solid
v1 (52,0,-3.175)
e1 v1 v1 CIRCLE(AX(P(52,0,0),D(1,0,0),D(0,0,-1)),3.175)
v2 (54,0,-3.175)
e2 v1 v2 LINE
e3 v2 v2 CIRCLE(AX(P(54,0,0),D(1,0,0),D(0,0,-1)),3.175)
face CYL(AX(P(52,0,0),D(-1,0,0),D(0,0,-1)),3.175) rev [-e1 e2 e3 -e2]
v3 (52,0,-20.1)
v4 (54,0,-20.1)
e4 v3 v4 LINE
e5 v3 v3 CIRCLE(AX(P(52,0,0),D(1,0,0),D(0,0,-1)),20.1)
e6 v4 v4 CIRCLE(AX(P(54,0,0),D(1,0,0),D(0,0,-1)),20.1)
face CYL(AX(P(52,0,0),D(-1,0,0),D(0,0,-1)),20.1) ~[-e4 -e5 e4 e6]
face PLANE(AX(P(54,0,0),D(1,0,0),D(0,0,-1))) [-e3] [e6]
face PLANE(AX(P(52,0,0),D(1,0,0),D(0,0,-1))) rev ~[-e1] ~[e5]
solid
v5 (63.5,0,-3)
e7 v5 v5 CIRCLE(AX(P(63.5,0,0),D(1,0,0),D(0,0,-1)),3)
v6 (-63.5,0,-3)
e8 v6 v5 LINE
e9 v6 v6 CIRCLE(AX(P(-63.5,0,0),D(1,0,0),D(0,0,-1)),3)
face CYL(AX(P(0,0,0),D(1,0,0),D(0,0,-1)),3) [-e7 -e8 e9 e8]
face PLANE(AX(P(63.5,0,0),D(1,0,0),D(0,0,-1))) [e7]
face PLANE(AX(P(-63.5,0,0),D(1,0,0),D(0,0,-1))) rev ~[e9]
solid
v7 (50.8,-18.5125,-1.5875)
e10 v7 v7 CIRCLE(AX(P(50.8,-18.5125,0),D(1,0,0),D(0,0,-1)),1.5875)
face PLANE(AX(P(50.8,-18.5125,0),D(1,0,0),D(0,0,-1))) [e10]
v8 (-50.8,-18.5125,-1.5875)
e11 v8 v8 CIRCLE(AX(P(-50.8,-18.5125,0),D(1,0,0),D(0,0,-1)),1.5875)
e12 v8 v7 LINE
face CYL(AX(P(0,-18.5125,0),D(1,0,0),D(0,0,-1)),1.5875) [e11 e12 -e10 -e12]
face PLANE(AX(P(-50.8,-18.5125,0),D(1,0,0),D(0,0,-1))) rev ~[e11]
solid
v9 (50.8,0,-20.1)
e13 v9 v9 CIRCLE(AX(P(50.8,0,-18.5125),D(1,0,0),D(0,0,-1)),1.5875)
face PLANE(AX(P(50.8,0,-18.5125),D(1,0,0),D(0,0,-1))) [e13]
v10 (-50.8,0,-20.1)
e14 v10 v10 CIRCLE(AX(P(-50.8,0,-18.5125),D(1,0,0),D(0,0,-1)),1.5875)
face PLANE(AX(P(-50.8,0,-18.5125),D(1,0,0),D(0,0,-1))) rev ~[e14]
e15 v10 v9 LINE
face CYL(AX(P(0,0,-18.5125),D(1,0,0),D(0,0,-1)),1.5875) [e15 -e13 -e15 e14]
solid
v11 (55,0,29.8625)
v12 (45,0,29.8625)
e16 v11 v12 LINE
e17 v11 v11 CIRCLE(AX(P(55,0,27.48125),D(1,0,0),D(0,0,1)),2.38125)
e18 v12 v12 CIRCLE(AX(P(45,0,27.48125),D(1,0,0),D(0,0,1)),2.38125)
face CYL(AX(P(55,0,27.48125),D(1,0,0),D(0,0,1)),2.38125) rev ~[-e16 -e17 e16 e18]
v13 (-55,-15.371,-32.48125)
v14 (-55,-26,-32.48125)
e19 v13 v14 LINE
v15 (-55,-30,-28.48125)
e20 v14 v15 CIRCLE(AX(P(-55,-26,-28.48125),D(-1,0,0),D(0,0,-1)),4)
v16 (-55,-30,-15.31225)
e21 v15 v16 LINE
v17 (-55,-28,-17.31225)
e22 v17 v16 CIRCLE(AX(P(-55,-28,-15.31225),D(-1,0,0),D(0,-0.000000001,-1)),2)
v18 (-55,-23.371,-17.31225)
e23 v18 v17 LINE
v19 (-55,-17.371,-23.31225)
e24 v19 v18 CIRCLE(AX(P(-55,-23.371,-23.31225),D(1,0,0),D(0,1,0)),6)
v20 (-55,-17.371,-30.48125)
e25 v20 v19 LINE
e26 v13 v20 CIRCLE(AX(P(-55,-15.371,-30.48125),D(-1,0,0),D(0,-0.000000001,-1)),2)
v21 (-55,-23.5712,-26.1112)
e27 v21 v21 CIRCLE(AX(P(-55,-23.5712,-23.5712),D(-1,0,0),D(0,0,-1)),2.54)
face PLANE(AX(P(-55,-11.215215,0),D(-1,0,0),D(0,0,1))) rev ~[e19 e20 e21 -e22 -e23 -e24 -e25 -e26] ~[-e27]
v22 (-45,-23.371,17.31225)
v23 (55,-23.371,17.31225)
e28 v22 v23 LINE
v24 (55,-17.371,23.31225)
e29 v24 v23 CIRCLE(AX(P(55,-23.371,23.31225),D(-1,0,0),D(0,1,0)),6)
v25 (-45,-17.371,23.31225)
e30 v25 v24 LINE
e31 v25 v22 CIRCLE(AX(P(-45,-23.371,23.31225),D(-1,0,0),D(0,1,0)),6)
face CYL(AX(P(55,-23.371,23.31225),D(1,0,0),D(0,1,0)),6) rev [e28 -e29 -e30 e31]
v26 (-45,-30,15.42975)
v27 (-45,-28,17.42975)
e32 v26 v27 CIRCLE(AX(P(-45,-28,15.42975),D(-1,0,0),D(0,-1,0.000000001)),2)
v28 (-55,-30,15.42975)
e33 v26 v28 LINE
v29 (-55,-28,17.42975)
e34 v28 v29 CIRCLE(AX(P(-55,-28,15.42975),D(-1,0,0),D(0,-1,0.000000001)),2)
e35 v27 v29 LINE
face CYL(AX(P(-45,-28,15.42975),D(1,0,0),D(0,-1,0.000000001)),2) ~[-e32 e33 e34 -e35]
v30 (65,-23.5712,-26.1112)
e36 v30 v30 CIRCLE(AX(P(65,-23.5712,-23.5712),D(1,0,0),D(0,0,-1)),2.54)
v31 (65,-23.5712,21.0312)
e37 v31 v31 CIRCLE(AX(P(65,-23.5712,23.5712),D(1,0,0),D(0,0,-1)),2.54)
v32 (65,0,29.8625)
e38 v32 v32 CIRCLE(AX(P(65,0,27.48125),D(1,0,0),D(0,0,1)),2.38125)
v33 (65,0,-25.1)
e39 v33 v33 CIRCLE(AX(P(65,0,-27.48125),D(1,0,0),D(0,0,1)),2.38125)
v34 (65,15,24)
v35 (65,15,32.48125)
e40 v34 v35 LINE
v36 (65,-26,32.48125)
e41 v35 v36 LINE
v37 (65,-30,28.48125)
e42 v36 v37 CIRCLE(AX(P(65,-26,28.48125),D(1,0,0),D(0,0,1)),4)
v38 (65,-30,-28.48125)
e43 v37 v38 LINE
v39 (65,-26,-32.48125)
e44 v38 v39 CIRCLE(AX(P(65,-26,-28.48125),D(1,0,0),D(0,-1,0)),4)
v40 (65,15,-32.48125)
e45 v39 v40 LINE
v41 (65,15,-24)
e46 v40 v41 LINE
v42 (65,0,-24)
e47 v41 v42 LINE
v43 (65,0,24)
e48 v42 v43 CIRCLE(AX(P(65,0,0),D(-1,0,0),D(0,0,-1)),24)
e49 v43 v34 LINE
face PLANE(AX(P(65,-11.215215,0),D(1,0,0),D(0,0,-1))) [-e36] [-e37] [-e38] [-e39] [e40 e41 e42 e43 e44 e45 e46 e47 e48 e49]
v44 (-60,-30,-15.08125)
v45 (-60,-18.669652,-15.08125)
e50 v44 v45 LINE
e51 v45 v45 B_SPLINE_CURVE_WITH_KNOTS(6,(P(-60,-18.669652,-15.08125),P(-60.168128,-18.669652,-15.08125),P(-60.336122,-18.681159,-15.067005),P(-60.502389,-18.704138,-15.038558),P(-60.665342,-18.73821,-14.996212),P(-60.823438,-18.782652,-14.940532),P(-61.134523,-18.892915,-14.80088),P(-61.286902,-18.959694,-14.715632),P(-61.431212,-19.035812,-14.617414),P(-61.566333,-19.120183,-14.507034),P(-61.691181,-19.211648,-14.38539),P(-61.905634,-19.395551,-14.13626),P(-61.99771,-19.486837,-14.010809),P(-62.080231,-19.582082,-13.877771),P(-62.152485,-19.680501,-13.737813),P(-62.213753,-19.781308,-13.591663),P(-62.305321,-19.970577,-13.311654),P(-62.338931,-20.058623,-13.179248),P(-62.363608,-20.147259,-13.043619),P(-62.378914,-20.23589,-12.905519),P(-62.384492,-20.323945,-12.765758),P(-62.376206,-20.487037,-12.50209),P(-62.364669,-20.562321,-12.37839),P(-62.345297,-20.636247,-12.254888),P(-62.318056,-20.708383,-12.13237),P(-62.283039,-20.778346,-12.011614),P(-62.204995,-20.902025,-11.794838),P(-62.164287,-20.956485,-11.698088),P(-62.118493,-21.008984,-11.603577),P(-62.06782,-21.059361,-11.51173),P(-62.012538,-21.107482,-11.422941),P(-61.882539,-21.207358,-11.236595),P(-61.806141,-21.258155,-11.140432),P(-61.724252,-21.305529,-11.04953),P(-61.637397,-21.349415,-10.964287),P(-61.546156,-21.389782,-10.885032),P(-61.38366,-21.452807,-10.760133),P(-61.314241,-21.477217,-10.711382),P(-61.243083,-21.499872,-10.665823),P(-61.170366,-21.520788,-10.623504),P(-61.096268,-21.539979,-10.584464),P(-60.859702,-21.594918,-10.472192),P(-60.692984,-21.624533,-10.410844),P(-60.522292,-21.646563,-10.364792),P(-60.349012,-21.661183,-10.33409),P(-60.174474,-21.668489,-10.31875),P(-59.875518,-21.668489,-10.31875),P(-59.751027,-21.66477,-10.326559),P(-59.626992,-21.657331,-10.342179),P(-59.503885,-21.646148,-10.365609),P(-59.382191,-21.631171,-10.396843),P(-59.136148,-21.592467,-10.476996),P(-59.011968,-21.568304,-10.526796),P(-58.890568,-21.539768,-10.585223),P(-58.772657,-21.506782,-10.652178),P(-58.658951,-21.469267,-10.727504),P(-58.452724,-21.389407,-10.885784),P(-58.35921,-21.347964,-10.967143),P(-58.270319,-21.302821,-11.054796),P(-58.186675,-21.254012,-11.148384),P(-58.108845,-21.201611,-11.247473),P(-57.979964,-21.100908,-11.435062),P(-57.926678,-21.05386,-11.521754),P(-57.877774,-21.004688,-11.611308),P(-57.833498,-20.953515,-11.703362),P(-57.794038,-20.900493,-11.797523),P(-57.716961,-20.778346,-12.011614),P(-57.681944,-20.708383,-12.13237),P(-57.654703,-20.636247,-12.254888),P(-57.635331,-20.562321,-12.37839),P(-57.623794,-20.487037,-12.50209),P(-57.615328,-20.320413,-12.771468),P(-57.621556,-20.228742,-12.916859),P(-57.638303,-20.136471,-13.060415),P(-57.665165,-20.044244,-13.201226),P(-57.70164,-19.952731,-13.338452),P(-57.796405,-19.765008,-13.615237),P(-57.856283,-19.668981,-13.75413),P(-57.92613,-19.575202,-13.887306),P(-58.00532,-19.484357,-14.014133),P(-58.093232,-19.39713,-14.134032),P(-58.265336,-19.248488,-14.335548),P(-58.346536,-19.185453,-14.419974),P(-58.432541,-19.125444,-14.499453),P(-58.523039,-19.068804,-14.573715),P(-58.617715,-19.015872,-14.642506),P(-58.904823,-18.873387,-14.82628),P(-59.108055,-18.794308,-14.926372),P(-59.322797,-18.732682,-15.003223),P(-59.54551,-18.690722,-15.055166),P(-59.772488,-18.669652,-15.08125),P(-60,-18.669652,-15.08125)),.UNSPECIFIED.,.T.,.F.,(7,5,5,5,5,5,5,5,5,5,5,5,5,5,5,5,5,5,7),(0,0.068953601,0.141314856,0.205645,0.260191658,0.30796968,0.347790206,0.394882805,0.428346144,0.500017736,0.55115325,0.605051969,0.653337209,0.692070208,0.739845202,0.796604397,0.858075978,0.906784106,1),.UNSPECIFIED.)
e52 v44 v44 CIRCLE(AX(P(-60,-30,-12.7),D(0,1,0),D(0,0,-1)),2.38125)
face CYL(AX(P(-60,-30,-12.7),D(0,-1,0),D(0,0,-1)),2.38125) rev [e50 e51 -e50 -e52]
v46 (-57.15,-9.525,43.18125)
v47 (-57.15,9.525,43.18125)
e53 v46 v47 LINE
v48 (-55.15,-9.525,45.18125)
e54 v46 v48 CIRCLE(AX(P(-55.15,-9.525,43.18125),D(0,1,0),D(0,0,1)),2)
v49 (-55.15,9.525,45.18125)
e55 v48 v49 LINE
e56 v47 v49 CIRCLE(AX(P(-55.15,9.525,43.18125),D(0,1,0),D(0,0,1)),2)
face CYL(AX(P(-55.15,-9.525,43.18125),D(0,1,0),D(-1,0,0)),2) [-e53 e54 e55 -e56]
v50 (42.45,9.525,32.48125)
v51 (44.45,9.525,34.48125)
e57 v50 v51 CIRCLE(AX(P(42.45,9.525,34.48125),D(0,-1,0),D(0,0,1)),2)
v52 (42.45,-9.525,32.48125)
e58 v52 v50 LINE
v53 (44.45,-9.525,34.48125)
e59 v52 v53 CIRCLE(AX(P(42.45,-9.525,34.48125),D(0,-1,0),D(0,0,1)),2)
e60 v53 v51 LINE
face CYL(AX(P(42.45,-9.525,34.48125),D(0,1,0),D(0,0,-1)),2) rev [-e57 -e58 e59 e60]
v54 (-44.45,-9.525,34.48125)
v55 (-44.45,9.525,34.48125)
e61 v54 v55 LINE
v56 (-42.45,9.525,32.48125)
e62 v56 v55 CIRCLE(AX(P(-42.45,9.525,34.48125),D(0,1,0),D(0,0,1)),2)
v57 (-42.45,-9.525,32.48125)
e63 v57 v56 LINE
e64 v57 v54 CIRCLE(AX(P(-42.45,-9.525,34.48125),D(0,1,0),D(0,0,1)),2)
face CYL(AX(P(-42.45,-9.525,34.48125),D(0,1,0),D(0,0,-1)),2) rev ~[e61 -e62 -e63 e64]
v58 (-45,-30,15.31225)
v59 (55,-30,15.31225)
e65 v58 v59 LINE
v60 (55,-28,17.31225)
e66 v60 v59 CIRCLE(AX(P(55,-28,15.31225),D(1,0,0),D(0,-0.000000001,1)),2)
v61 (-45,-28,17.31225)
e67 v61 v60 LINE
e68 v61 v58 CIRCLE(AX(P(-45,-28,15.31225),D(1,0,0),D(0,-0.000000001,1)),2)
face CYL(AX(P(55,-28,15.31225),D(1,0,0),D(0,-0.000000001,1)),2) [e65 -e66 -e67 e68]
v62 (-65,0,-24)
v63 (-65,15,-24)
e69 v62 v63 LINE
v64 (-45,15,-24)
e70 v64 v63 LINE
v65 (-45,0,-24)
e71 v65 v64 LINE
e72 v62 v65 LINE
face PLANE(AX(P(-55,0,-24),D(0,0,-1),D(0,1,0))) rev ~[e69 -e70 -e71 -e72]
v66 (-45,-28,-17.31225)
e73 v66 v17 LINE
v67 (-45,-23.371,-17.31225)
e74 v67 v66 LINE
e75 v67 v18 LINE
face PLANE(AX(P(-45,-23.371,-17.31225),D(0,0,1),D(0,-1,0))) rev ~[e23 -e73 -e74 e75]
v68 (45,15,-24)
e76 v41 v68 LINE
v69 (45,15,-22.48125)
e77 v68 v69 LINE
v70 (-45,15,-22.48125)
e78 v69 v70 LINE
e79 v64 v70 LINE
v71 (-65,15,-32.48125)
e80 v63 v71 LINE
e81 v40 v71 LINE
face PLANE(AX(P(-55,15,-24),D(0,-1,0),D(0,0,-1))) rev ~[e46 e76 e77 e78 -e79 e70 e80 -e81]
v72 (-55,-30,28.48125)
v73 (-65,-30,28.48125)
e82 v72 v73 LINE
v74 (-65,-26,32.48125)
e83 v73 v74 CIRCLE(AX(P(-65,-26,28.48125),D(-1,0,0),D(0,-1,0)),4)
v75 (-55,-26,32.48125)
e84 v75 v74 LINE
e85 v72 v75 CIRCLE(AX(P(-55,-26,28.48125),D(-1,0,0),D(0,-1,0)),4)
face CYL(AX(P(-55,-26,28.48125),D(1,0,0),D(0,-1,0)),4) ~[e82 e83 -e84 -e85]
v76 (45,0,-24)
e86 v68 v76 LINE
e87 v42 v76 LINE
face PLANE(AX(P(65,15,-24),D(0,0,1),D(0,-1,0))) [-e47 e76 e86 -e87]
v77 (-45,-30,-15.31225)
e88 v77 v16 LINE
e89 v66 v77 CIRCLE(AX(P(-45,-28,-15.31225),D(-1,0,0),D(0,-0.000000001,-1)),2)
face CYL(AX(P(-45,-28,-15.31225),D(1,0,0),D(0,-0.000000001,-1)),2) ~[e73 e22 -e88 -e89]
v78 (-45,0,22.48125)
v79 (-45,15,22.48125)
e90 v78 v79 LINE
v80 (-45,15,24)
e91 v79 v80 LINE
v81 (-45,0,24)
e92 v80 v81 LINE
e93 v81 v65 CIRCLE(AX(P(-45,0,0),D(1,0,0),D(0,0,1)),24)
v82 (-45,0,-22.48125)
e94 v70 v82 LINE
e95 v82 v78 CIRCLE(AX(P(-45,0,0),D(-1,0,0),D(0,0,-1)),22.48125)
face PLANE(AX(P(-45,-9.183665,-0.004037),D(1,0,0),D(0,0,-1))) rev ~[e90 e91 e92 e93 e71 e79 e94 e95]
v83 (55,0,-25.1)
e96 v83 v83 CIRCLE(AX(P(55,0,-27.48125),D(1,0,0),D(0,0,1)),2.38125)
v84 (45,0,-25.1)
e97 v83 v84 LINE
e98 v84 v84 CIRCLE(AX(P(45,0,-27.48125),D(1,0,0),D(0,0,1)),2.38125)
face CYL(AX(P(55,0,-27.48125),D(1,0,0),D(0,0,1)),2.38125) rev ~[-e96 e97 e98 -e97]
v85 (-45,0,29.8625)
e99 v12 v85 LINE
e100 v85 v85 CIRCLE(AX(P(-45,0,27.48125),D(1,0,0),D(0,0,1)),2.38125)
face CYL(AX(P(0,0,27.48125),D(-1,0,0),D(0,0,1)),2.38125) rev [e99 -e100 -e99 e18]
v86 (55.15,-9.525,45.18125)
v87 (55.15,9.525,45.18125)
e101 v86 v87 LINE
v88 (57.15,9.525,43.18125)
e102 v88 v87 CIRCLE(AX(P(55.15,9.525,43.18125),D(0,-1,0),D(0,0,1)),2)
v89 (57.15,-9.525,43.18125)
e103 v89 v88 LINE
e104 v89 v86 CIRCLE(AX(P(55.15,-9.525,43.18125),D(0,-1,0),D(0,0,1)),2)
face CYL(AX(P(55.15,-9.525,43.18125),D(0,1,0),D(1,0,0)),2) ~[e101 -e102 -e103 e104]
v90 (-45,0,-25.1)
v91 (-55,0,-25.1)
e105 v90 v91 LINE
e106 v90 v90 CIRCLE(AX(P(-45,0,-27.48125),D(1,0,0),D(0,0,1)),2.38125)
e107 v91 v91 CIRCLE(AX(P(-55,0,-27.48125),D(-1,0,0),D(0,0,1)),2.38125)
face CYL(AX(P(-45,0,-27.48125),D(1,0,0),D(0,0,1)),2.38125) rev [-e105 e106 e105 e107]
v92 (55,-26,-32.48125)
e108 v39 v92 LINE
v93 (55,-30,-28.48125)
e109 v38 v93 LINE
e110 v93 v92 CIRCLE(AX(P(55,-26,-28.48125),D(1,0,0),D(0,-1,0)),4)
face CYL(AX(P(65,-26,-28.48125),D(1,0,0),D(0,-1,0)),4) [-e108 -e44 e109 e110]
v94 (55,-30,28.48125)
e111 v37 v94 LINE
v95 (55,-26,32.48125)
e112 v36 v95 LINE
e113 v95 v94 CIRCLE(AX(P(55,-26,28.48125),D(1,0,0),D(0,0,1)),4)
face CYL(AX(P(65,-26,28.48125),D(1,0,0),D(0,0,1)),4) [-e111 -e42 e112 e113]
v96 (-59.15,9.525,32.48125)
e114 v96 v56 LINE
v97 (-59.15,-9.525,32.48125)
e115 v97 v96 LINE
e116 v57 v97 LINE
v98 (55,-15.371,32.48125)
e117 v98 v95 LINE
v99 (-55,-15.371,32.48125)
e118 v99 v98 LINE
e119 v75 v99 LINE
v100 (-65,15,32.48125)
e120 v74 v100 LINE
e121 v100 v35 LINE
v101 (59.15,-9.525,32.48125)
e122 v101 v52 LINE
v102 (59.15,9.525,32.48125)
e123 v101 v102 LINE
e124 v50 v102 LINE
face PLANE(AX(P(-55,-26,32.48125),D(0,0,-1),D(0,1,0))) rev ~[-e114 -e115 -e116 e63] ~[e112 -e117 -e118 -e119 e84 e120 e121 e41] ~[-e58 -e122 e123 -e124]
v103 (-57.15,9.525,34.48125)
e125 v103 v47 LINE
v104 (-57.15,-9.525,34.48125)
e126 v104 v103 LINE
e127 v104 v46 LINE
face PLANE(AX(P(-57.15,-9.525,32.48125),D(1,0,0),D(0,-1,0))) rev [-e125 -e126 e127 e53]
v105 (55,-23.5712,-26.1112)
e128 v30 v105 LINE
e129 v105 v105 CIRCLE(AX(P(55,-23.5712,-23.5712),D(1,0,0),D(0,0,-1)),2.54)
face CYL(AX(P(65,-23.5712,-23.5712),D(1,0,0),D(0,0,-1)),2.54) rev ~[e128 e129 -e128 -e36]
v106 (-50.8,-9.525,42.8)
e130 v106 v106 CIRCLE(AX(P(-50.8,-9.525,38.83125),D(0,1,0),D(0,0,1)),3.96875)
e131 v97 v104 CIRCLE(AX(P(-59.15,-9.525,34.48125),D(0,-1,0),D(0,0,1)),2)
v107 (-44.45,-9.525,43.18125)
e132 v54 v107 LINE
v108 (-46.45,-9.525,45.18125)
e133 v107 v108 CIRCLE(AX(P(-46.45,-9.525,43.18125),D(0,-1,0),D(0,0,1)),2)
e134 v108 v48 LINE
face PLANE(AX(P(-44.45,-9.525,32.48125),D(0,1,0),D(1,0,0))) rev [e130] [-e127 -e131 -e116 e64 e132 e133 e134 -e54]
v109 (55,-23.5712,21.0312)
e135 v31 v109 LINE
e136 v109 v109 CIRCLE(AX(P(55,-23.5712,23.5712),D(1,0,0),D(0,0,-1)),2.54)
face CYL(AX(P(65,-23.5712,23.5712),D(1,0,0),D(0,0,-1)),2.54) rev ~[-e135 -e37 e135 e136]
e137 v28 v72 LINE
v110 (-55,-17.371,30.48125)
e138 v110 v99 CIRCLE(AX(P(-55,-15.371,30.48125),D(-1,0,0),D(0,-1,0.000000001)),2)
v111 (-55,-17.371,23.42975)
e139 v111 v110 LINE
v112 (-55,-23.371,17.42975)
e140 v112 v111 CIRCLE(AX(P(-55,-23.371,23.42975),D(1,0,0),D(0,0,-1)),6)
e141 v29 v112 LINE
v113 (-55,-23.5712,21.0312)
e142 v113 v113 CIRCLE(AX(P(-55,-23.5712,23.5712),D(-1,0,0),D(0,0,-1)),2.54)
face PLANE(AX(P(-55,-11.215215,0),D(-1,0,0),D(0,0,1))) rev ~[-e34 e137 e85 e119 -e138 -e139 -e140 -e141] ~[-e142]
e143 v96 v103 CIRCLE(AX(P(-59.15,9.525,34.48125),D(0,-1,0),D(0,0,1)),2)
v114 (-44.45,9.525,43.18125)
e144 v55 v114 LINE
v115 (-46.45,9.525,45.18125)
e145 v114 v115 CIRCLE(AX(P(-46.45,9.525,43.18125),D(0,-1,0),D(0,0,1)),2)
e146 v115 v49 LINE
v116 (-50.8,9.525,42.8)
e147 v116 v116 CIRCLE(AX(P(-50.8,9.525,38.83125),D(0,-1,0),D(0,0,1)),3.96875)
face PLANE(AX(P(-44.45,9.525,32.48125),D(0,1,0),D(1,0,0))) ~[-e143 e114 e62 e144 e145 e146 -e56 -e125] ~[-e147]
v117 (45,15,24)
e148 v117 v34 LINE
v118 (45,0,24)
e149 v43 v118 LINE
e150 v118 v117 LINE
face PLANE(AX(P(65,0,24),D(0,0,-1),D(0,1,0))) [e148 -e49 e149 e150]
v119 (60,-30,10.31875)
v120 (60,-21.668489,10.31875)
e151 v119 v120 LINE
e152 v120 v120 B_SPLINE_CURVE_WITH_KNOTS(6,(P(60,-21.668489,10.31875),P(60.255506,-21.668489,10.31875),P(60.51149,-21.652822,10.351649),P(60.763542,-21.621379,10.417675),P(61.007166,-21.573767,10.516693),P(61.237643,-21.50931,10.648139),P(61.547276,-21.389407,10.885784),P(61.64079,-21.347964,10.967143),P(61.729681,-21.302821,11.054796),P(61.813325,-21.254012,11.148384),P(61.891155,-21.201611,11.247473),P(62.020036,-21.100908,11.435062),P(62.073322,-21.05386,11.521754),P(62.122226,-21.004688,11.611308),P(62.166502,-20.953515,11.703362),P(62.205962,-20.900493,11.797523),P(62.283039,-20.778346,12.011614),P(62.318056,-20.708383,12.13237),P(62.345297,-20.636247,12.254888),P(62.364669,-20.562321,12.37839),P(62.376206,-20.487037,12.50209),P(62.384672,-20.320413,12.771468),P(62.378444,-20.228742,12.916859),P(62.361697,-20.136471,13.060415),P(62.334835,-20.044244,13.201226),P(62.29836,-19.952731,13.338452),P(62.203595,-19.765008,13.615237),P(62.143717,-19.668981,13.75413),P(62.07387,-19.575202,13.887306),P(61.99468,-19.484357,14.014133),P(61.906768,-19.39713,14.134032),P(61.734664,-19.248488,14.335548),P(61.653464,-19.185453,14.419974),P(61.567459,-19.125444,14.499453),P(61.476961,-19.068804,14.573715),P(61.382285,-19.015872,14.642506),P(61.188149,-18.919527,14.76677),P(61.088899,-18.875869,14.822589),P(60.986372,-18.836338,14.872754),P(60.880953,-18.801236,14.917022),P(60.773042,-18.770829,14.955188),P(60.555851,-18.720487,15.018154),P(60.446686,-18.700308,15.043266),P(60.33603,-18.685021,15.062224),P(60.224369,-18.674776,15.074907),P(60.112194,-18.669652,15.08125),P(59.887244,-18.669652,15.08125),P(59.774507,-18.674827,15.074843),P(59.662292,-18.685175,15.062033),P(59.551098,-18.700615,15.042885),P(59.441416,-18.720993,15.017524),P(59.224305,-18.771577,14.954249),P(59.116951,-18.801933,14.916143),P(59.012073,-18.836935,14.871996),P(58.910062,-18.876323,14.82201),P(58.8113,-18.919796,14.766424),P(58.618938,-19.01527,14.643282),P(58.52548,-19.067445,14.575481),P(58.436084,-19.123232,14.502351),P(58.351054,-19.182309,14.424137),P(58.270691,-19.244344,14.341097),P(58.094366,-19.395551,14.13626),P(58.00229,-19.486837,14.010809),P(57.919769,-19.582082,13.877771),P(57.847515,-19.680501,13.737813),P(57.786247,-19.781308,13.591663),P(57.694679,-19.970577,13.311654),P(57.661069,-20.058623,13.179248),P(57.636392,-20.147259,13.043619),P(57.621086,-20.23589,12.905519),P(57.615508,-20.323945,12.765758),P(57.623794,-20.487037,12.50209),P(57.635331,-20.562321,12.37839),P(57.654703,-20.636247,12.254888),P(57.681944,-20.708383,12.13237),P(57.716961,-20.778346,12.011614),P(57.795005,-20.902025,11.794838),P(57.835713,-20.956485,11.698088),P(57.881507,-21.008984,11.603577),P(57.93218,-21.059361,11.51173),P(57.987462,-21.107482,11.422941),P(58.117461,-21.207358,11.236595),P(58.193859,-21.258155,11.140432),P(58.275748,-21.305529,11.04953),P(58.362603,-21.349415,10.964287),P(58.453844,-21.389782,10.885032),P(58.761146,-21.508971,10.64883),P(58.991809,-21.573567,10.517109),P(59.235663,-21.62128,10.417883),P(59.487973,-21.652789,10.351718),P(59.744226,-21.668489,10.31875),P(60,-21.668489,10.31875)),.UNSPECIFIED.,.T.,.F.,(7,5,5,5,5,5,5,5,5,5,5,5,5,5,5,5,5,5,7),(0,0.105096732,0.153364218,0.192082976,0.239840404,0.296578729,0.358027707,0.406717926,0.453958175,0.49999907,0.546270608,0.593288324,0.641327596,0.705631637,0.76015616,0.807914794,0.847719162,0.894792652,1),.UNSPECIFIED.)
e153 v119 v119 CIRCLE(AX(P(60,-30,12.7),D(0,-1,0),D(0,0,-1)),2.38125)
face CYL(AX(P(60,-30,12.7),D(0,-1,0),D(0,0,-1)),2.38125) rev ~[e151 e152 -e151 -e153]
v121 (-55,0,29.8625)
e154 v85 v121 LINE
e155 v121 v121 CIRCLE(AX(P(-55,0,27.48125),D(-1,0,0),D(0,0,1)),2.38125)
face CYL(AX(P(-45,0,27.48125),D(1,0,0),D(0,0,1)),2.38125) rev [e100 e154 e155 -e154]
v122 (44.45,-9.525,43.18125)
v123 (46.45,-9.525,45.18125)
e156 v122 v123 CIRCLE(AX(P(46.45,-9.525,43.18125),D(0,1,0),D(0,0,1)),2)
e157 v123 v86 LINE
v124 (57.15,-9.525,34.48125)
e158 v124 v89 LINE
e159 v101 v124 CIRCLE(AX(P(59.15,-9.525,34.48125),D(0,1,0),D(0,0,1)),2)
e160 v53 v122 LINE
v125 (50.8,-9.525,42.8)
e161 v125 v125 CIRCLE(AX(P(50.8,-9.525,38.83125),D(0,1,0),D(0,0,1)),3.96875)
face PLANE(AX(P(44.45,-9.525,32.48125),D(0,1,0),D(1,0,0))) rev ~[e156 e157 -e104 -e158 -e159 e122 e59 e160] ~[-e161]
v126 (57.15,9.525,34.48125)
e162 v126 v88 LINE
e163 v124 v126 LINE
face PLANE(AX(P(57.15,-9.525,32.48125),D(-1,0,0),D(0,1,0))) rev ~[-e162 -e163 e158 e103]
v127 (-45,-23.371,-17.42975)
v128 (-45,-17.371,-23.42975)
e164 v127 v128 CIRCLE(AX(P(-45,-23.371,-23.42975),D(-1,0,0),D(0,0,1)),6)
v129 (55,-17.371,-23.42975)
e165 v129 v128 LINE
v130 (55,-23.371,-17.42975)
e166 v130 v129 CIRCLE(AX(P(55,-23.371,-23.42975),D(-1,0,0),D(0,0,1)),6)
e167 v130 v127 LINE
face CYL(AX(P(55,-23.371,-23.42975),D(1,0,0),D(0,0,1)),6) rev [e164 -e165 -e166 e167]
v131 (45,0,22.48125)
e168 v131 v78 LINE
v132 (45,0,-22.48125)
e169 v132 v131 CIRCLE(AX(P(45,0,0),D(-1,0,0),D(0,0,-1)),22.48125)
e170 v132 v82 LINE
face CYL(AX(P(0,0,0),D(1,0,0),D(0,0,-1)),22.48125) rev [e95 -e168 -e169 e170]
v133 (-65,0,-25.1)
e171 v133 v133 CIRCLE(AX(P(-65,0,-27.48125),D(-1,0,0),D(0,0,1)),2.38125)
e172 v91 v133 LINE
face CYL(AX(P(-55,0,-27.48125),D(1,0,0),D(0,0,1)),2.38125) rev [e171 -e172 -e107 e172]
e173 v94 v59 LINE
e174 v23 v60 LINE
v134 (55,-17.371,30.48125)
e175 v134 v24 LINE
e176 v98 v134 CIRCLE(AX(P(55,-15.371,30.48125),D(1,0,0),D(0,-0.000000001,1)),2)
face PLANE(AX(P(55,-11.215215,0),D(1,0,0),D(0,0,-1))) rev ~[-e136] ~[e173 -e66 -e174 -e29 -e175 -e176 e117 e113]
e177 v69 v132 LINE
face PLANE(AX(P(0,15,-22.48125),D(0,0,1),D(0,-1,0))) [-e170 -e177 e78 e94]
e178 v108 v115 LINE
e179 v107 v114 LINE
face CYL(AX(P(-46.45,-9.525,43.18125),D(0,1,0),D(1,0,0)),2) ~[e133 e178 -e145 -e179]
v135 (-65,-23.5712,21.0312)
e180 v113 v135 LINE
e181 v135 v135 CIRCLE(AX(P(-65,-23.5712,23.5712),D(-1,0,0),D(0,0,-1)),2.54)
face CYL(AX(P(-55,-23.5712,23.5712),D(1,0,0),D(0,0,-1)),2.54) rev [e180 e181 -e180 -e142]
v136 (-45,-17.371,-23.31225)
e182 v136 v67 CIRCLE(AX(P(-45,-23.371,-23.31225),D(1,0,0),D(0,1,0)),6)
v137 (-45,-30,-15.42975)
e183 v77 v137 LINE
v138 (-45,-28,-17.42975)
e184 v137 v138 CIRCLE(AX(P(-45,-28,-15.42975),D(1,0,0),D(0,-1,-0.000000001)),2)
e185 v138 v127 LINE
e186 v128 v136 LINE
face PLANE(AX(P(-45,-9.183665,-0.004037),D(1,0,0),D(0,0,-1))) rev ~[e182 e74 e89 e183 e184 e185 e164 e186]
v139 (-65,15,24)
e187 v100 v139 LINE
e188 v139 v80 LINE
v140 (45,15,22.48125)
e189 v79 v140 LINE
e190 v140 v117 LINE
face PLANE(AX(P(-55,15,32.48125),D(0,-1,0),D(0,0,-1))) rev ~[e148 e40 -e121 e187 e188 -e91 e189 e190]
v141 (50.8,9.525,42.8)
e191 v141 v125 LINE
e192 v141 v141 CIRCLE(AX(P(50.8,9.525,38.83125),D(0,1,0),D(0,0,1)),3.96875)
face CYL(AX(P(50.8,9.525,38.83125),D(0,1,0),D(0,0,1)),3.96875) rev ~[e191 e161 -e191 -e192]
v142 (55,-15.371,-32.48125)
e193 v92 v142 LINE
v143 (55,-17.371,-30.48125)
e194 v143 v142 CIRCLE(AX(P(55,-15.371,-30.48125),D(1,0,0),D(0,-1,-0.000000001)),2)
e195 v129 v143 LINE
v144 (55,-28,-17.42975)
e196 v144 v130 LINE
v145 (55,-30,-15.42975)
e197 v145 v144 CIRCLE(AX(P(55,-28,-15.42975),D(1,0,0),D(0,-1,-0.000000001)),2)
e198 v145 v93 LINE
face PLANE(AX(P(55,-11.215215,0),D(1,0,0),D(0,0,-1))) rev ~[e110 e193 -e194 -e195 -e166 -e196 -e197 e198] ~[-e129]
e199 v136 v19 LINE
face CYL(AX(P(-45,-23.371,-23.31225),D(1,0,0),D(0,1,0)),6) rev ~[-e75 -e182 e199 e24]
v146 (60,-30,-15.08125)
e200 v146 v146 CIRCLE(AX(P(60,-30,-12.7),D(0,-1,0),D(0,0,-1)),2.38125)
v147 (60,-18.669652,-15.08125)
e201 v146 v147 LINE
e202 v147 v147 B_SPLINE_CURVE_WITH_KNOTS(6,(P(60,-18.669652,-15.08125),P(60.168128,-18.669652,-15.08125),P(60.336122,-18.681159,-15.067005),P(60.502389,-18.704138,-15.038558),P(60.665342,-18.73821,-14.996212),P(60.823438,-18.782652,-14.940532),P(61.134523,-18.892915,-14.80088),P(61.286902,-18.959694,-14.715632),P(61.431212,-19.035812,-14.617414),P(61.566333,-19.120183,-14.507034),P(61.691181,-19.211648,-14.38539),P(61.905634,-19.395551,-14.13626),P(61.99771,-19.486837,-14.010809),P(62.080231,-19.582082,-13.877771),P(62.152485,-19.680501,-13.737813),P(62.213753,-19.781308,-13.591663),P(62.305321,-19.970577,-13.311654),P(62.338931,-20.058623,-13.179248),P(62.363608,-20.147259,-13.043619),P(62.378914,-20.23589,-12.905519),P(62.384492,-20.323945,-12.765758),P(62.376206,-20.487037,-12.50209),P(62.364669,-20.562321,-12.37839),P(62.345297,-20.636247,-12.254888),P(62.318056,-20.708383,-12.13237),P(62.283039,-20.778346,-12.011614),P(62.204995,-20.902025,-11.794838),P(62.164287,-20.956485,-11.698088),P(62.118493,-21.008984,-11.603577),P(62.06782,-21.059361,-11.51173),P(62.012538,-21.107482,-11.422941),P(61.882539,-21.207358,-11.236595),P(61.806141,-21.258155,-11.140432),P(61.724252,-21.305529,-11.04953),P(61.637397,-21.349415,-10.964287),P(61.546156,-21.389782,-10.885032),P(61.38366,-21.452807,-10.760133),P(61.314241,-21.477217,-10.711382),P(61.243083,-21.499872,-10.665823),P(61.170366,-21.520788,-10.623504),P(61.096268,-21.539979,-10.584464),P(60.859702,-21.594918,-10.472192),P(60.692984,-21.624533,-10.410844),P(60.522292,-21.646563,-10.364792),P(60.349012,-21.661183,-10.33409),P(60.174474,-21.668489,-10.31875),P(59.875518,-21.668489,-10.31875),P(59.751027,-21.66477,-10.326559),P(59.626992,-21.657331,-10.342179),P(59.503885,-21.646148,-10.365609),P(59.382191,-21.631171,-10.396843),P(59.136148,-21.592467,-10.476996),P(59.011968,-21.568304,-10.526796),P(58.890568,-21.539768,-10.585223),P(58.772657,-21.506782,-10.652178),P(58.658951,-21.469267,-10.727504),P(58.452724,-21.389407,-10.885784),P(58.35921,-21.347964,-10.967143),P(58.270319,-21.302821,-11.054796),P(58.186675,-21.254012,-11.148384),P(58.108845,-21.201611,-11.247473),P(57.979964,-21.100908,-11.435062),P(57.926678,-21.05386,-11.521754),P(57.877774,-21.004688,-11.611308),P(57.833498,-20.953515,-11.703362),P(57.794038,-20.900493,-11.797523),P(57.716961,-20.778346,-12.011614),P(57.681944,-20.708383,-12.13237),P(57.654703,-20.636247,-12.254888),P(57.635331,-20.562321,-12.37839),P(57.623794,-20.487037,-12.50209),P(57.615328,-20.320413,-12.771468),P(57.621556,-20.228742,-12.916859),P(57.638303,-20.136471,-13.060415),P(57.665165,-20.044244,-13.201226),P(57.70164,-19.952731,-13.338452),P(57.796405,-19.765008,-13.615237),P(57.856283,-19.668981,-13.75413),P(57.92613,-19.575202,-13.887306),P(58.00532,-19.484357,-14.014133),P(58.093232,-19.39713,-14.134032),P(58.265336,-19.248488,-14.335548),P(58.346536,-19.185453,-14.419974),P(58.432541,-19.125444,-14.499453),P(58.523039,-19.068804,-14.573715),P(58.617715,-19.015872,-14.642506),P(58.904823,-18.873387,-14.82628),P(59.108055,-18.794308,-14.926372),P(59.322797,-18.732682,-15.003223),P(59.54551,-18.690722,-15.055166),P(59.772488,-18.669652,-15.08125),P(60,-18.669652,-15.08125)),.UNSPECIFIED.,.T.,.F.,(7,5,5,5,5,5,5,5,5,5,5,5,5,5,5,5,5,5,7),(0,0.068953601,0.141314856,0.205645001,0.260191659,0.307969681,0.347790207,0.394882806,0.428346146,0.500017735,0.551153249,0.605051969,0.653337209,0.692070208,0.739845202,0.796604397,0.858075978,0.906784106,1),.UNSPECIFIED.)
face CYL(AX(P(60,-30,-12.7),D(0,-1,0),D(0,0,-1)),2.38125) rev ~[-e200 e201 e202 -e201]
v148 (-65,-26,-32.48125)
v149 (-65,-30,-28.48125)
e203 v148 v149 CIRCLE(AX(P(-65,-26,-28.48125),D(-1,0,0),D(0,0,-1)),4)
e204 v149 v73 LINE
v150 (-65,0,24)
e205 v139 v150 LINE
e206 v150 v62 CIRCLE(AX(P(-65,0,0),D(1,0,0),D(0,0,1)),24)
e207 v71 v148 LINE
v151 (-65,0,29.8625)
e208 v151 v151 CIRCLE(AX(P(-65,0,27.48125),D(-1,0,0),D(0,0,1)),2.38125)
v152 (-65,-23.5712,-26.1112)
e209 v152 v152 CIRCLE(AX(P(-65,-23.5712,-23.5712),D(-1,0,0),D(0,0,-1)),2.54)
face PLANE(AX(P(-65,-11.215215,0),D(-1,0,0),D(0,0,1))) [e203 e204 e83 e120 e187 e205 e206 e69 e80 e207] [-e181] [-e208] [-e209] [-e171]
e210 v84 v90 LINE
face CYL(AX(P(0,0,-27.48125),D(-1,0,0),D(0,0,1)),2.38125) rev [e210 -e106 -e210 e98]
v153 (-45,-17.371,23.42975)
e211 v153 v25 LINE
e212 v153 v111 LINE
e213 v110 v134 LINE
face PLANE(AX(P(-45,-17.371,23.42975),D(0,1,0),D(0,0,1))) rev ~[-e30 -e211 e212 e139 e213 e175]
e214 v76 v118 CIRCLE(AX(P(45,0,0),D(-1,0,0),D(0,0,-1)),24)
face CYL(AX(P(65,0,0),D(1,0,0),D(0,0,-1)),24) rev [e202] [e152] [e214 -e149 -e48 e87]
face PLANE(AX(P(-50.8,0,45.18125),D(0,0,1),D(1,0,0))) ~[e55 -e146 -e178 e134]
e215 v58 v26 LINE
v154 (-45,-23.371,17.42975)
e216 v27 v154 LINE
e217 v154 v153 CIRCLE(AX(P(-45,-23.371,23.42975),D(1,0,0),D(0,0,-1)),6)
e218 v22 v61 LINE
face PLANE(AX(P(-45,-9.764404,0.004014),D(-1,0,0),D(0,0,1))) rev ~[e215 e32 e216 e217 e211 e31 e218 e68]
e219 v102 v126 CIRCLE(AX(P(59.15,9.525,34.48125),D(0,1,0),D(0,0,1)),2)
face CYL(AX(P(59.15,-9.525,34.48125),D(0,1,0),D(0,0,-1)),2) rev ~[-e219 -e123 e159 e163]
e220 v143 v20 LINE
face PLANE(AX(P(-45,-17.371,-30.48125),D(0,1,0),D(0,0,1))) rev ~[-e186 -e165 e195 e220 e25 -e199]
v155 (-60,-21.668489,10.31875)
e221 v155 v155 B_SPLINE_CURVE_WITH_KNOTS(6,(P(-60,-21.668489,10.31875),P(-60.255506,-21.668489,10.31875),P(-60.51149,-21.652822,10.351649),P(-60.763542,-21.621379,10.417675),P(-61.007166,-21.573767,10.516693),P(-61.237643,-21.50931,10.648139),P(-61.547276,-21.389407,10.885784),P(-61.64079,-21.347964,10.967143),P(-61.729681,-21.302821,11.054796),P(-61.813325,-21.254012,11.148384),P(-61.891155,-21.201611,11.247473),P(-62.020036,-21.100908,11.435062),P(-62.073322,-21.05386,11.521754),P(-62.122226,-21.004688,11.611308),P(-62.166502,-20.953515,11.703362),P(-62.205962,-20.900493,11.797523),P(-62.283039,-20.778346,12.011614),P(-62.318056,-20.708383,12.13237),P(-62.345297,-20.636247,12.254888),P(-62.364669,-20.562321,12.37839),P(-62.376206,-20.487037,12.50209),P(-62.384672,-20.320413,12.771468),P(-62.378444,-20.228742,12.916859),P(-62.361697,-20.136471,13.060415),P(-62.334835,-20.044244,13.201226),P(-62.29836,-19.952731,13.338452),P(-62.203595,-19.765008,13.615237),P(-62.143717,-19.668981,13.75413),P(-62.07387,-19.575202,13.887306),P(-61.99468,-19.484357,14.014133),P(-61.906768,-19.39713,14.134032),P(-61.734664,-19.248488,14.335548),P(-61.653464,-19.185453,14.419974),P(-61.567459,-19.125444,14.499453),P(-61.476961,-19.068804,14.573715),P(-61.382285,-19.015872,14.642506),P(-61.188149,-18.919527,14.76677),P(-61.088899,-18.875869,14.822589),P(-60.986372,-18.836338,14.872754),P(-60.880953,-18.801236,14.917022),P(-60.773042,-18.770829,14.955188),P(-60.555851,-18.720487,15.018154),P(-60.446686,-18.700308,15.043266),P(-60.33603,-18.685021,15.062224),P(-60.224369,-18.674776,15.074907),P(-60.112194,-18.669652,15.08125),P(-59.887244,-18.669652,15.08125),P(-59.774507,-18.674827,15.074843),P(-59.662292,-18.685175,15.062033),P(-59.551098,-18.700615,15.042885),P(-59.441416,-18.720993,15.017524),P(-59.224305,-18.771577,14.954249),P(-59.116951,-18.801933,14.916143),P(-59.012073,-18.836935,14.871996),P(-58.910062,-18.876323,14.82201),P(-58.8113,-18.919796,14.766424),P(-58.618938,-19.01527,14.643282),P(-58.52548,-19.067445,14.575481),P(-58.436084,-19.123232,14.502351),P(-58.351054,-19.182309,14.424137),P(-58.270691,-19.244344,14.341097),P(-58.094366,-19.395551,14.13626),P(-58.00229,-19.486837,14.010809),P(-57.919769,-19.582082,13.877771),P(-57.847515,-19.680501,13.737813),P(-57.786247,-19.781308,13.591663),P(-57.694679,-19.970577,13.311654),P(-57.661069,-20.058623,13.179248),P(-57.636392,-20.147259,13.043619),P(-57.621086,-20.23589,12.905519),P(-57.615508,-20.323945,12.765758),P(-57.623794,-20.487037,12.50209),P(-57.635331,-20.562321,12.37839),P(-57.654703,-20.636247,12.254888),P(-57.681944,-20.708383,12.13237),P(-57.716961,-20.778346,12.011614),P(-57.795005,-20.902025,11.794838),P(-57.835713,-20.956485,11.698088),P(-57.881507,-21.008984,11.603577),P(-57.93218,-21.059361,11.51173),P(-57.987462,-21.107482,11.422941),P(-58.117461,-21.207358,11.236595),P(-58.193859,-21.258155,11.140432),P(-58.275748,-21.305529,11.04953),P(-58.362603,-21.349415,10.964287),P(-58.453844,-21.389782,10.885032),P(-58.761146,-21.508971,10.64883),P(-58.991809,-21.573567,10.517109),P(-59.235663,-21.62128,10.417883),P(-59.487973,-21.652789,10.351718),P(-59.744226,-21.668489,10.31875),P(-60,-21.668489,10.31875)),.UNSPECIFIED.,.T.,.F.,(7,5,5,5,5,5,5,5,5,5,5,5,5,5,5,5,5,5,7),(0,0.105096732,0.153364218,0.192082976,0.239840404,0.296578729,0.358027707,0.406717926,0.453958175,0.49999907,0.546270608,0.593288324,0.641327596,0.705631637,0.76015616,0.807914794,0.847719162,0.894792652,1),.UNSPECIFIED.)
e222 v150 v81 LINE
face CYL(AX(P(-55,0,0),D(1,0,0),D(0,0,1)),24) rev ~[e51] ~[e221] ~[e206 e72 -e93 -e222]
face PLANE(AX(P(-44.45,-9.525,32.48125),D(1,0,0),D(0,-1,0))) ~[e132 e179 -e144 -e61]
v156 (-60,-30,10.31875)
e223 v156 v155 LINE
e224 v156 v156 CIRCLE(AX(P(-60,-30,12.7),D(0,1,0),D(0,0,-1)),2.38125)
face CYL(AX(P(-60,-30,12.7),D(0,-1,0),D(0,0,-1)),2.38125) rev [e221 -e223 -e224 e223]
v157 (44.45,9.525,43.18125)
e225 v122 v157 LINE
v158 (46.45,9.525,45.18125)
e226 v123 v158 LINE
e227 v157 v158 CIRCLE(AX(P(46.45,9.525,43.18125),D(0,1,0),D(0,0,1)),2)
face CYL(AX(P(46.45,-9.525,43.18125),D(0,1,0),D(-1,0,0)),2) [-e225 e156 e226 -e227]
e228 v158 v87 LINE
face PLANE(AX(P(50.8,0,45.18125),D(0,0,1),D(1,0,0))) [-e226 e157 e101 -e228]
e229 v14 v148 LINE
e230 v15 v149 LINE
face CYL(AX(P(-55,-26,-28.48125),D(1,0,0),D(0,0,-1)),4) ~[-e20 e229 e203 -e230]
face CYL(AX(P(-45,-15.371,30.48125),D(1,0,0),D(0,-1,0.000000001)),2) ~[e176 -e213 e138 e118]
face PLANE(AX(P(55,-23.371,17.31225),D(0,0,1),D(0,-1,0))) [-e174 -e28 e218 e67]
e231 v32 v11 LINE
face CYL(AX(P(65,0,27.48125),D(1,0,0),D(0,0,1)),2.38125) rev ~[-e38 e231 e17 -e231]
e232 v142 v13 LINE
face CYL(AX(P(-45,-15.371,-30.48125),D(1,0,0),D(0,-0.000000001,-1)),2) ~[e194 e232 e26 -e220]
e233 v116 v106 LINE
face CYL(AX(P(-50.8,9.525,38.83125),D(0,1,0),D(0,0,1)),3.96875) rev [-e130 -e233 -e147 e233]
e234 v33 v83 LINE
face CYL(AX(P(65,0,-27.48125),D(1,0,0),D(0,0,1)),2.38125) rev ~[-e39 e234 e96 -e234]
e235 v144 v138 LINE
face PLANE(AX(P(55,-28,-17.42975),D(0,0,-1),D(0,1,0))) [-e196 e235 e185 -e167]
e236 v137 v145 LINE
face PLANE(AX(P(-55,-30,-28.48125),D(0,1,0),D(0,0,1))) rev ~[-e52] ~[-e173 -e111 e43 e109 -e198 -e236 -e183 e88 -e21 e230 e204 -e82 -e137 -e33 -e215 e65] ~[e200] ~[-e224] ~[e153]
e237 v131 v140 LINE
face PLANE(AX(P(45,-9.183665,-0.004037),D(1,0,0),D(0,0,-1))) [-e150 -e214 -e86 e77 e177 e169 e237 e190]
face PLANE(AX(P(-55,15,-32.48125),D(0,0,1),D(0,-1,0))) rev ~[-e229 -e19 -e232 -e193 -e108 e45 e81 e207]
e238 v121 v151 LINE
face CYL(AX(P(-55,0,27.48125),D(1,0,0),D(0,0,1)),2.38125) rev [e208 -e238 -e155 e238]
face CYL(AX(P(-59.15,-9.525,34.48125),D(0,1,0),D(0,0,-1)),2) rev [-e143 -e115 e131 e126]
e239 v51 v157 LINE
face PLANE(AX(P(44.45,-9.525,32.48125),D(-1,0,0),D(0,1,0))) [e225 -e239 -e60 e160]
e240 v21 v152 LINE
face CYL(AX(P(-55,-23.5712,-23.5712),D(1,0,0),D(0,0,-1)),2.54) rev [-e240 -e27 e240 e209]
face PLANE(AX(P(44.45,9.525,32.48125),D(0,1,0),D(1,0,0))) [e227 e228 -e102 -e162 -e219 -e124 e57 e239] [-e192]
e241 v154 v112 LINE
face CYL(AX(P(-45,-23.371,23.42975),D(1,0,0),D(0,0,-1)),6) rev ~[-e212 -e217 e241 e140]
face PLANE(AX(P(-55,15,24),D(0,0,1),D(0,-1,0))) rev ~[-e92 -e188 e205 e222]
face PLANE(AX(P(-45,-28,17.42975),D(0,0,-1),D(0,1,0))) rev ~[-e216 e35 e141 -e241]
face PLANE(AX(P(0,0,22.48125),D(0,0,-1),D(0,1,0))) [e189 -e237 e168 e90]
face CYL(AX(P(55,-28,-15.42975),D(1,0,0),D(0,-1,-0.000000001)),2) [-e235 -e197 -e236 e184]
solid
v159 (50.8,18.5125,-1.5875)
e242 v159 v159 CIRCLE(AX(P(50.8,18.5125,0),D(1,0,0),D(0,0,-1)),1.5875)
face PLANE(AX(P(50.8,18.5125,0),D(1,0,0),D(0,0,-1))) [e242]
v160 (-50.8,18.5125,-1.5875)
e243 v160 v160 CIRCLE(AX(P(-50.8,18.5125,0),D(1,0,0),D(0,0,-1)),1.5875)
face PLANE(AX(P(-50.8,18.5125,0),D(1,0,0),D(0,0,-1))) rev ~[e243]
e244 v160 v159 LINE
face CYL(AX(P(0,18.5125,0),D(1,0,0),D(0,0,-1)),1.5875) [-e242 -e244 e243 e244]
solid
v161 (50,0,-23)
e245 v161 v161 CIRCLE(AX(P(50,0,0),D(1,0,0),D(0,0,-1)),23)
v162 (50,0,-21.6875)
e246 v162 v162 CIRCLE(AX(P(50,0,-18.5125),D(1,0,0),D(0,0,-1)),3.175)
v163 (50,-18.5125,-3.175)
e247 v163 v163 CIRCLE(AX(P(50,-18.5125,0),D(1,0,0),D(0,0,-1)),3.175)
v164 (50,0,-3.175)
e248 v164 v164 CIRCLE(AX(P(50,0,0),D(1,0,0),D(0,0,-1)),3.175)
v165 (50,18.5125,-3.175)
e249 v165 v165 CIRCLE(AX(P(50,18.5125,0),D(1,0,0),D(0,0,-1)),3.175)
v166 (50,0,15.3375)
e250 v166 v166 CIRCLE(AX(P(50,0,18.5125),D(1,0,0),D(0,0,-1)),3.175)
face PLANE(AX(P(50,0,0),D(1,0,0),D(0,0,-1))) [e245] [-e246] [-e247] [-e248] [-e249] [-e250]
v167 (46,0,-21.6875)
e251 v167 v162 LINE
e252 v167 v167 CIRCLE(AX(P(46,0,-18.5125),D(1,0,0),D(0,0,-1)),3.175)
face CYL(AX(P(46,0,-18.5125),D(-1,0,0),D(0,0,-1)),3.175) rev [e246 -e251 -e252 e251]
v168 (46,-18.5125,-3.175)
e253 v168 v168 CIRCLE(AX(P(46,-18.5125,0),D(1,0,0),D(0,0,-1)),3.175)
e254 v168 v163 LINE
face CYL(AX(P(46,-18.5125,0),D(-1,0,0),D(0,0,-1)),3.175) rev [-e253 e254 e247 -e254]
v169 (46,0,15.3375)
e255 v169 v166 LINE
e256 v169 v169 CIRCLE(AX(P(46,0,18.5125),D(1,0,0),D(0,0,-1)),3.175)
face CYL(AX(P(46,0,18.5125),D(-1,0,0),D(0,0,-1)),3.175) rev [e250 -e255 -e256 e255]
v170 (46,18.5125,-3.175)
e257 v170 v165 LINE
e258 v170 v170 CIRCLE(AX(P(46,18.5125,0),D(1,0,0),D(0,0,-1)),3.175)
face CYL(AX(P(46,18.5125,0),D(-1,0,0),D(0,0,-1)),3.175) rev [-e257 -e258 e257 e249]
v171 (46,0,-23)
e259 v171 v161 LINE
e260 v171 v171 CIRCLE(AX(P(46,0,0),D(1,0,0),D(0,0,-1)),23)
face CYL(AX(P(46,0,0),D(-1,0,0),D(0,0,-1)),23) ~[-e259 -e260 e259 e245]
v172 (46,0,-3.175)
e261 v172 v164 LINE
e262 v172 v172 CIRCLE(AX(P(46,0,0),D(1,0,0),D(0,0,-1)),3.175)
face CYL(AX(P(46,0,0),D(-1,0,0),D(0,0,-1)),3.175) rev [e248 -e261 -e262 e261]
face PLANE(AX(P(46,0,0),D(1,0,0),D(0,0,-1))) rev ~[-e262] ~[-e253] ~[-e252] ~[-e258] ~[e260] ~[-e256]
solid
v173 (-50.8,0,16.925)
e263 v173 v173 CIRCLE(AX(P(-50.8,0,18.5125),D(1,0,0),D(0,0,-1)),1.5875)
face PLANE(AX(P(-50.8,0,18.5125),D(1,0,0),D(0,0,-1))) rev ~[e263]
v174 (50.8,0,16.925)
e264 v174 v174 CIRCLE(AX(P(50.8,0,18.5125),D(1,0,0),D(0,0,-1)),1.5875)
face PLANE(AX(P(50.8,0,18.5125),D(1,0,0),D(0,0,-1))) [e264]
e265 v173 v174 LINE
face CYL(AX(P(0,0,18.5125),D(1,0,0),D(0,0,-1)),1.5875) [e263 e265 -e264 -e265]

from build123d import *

# Parameters (mm, degrees)
SKETCH1_R             = 2.38125
BOSS_EXTRUDE1_DEPTH   = 45
SKETCH3_R             = 23
SKETCH3_R_2           = 3.175
BOSS_EXTRUDE2_DEPTH   = 4
SKETCH17_R            = 20.1
SKETCH17_R_2          = 3.175
BOSS_EXTRUDE4_DEPTH   = 2
SKETCH19_R            = 3
BOSS_EXTRUDE6_DEPTH   = 63.5
SKETCH20_R            = 1.5875
BOSS_EXTRUDE7_DEPTH   = 50.8
BOSS_EXTRUDE7_2_DEPTH = 50.8
BOSS_EXTRUDE7_3_DEPTH = 50.8
BOSS_EXTRUDE7_4_DEPTH = 50.8
BOSS_EXTRUDE8_START   = 10
SKETCH21_R            = 2.38125
BOSS_EXTRUDE8_DEPTH   = 10
BOSS_EXTRUDE9_START   = 10
SKETCH23_R            = 2.54
SKETCH23_R_2          = 2.38125
BOSS_EXTRUDE9_DEPTH   = 10
SKETCH24_R            = 2.38125
CUT_EXTRUDE1_DEPTH    = 50
SKETCH25_R            = 2.38125
BOSS_EXTRUDE10_DEPTH  = 10
SKETCH27_R            = 2.54
SKETCH27_R_2          = 2.38125
BOSS_EXTRUDE11_DEPTH  = 10
SKETCH29_W            = 12.7
SKETCH29_H            = 19.05
BOSS_EXTRUDE12_DEPTH  = 12.7
SKETCH30_R            = 3.96875
CUT_EXTRUDE2_DEPTH    = 40
FILLET1_R             = 2


with BuildPart() as part:
    # Sketch1 → Boss-Extrude1 (new, symmetric)
    with BuildSketch(Plane(origin=(0, 0, 0), x_dir=(0, 0, -1), z_dir=(1, 0, 0))):
        with BuildLine():
            Line((-22.48125, 0), (-22.48125, 15))
            Line((-22.48125, 15), (-32.48125, 15))
            Line((-32.48125, 15), (-32.48125, -15.371))
            ThreePointArc((-32.48125, -15.371), (-31.895463562, -16.785213562), (-30.48125, -17.371))
            Line((-30.48125, -17.371), (-23.31225, -17.371))
            ThreePointArc((-23.31225, -17.371), (-19.069609313, -19.128359313), (-17.31225, -23.371))
            Line((-17.31225, -23.371), (-17.31225, -28))
            ThreePointArc((-17.31225, -28), (-16.726463562, -29.414213562), (-15.31225, -30))
            Line((-15.31225, -30), (15.42975, -30))
            ThreePointArc((15.42975, -30), (16.843963562, -29.414213562), (17.42975, -28))
            Line((17.42975, -28), (17.42975, -23.371))
            ThreePointArc((17.42975, -23.371), (19.187109313, -19.128359313), (23.42975, -17.371))
            Line((23.42975, -17.371), (30.05875, -17.371))
            Line((30.05875, -17.371), (30.48125, -17.371))
            ThreePointArc((30.48125, -17.371), (31.895463562, -16.785213562), (32.48125, -15.371))
            Line((32.48125, -15.371), (32.48125, 15))
            Line((32.48125, 15), (22.48125, 15))
            Line((22.48125, 15), (22.48125, 0))
            ThreePointArc((22.48125, 0), (0, -22.48125), (-22.48125, 0))
        make_face()
        with Locations(Location((-27.48125, 0, 0), (0, 0, 180))):
            Circle(SKETCH1_R, mode=Mode.SUBTRACT)
        with Locations(Location((27.48125, 0, 0), (0, 0, 180))):
            Circle(SKETCH1_R, mode=Mode.SUBTRACT)
    extrude(amount=BOSS_EXTRUDE1_DEPTH, both=True)

    # Sketch21 → Boss-Extrude8 (add)
    with BuildSketch(Plane(origin=(45, 0, 0), x_dir=(0, 0, -1), z_dir=(1, 0, 0)).offset(BOSS_EXTRUDE8_START)):
        with BuildLine():
            Line((-24, 0), (-24, 15))
            Line((-24, 15), (-32.48125, 15))
            Line((-32.48125, 15), (-32.48125, -15.371))
            ThreePointArc((-32.48125, -15.371), (-31.895463562, -16.785213562), (-30.48125, -17.371))
            Line((-30.48125, -17.371), (-23.31225, -17.371))
            ThreePointArc((-23.31225, -17.371), (-19.069609313, -19.128359313), (-17.31225, -23.371))
            Line((-17.31225, -23.371), (-17.31225, -28))
            ThreePointArc((-17.31225, -28), (-16.726463562, -29.414213562), (-15.31225, -30))
            Line((-15.31225, -30), (15.42975, -30))
            ThreePointArc((15.42975, -30), (16.843963562, -29.414213562), (17.42975, -28))
            Line((17.42975, -28), (17.42975, -23.371))
            ThreePointArc((17.42975, -23.371), (19.187109313, -19.128359313), (23.42975, -17.371))
            Line((23.42975, -17.371), (30.05875, -17.371))
            Line((30.05875, -17.371), (30.48125, -17.371))
            ThreePointArc((30.48125, -17.371), (31.895463562, -16.785213562), (32.48125, -15.371))
            Line((32.48125, -15.371), (32.48125, 15))
            Line((32.48125, 15), (24, 15))
            Line((24, 15), (24, 0))
            ThreePointArc((24, 0), (0, -24), (-24, 0))
        make_face()
        with Locations(Location((-27.48125, 0, 0), (0, 0, 180))):
            Circle(SKETCH21_R, mode=Mode.SUBTRACT)
        with Locations(Location((27.48125, 0, 0), (0, 0, 180))):
            Circle(SKETCH21_R, mode=Mode.SUBTRACT)
    extrude(amount=-BOSS_EXTRUDE8_DEPTH)

    # Sketch23 → Boss-Extrude9 (add)
    with BuildSketch(Plane(origin=(55, 0, 0), x_dir=(0, 0, -1), z_dir=(1, 0, 0)).offset(BOSS_EXTRUDE9_START)):
        with BuildLine():
            Line((-24, 0), (-24, 15))
            Line((-24, 15), (-32.48125, 15))
            Line((-32.48125, 15), (-32.48125, -26))
            ThreePointArc((-32.48125, -26), (-31.309677125, -28.828427125), (-28.48125, -30))
            Line((-28.48125, -30), (28.48125, -30))
            ThreePointArc((28.48125, -30), (31.309677125, -28.828427125), (32.48125, -26))
            Line((32.48125, -26), (32.48125, 15))
            Line((32.48125, 15), (24, 15))
            Line((24, 15), (24, 0))
            ThreePointArc((24, 0), (0, -24), (-24, 0))
        make_face()
        with Locations((-23.5712, -23.5712)):
            Circle(SKETCH23_R, mode=Mode.SUBTRACT)
        with Locations((23.5712, -23.5712)):
            Circle(SKETCH23_R, mode=Mode.SUBTRACT)
        with Locations(Location((-27.48125, 0, 0), (0, 0, 180))):
            Circle(SKETCH23_R_2, mode=Mode.SUBTRACT)
        with Locations(Location((27.48125, 0, 0), (0, 0, 180))):
            Circle(SKETCH23_R_2, mode=Mode.SUBTRACT)
    extrude(amount=-BOSS_EXTRUDE9_DEPTH)

    # Sketch24 → Cut-Extrude1 (cut)
    with BuildSketch(Plane.XZ.offset(30)):
        with Locations(Location((60, 12.7, 0), (0, 0, 270))):
            Circle(SKETCH24_R)
        with Locations(Location((60, -12.7, 0), (0, 0, 270))):
            Circle(SKETCH24_R)
    cut_extrude1 = extrude(amount=-CUT_EXTRUDE1_DEPTH, mode=Mode.SUBTRACT)

    # Sketch25 → Boss-Extrude10 (add)
    with BuildSketch(Plane.ZY.offset(45)):
        with BuildLine():
            Line((-24, 0), (-24, 15))
            Line((-24, 15), (-32.48125, 15))
            Line((-32.48125, 15), (-32.48125, -15.371))
            ThreePointArc((-32.48125, -15.371), (-31.895463562, -16.785213562), (-30.48125, -17.371))
            Line((-30.48125, -17.371), (-23.31225, -17.371))
            ThreePointArc((-23.31225, -17.371), (-19.069609313, -19.128359313), (-17.31225, -23.371))
            Line((-17.31225, -23.371), (-17.31225, -28))
            ThreePointArc((-17.31225, -28), (-16.726463562, -29.414213562), (-15.31225, -30))
            Line((-15.31225, -30), (15.42975, -30))
            ThreePointArc((15.42975, -30), (16.843963562, -29.414213562), (17.42975, -28))
            Line((17.42975, -28), (17.42975, -23.371))
            ThreePointArc((17.42975, -23.371), (19.187109313, -19.128359313), (23.42975, -17.371))
            Line((23.42975, -17.371), (30.05875, -17.371))
            Line((30.05875, -17.371), (30.48125, -17.371))
            ThreePointArc((30.48125, -17.371), (31.895463562, -16.785213562), (32.48125, -15.371))
            Line((32.48125, -15.371), (32.48125, 15))
            Line((32.48125, 15), (24, 15))
            Line((24, 15), (24, 0))
            ThreePointArc((24, 0), (0, -24), (-24, 0))
        make_face()
        with Locations((-27.48125, 0)):
            Circle(SKETCH25_R, mode=Mode.SUBTRACT)
        with Locations((27.48125, 0)):
            Circle(SKETCH25_R, mode=Mode.SUBTRACT)
    extrude(amount=BOSS_EXTRUDE10_DEPTH)

    # Sketch27 → Boss-Extrude11 (add)
    with BuildSketch(Plane.ZY.offset(55)):
        with BuildLine():
            Line((-24, 0), (-24, 15))
            Line((-24, 15), (-32.48125, 15))
            Line((-32.48125, 15), (-32.48125, -26))
            ThreePointArc((-32.48125, -26), (-31.309677125, -28.828427125), (-28.48125, -30))
            Line((-28.48125, -30), (28.48125, -30))
            ThreePointArc((28.48125, -30), (31.309677125, -28.828427125), (32.48125, -26))
            Line((32.48125, -26), (32.48125, 15))
            Line((32.48125, 15), (24, 15))
            Line((24, 15), (24, 0))
            ThreePointArc((24, 0), (0, -24), (-24, 0))
        make_face()
        with Locations(Location((-23.5712, -23.5712, 0), (0, 0, 180))):
            Circle(SKETCH27_R, mode=Mode.SUBTRACT)
        with Locations(Location((23.5712, -23.5712, 0), (0, 0, 180))):
            Circle(SKETCH27_R, mode=Mode.SUBTRACT)
        with Locations((-27.48125, 0)):
            Circle(SKETCH27_R_2, mode=Mode.SUBTRACT)
        with Locations((27.48125, 0)):
            Circle(SKETCH27_R_2, mode=Mode.SUBTRACT)
    extrude(amount=BOSS_EXTRUDE11_DEPTH)

    # Mirror6: Cut-Extrude1 across plane
    add(cut_extrude1.mirror(Plane(origin=(0, 0, 0), x_dir=(0, 0, 1), z_dir=(1, 0, 0))), mode=Mode.SUBTRACT)

    # Sketch29 → Boss-Extrude12 (add)
    with BuildSketch(Plane.XY.offset(32.48125)):
        with Locations((50.8, 0)):
            Rectangle(SKETCH29_W, SKETCH29_H)
    boss_extrude12 = extrude(amount=BOSS_EXTRUDE12_DEPTH)

    # Sketch30 → Cut-Extrude2 (cut)
    with BuildSketch(Plane(origin=(0, 9.525, 0), x_dir=(1, 0, 0), z_dir=(0, 1, 0))):
        with Locations(Location((50.8, -38.83125, 0), (0, 0, 270))):
            Circle(SKETCH30_R)
    cut_extrude2 = extrude(amount=-CUT_EXTRUDE2_DEPTH, mode=Mode.SUBTRACT)

    # Mirror7: Boss-Extrude12, Cut-Extrude2 across plane
    add(boss_extrude12.mirror(Plane(origin=(0, 0, 0), x_dir=(0, 0, 1), z_dir=(1, 0, 0))))
    add(cut_extrude2.mirror(Plane(origin=(0, 0, 0), x_dir=(0, 0, 1), z_dir=(1, 0, 0))), mode=Mode.SUBTRACT)

    # Fillet1
    fillet1_edges = [part.edges().sort_by_distance(p)[0] for p in [
        (57.15, 0, 45.18125),
        (44.45, 0, 32.48125),
        (44.45, 0, 45.18125),
        (57.15, 0, 32.48125),
        (-57.15, 0, 32.48125),
        (-44.45, 0, 45.18125),
        (-57.15, 0, 45.18125),
        (-44.45, 0, 32.48125),
    ]]
    fillet(fillet1_edges, radius=FILLET1_R)


with BuildPart() as body_2:
    # Sketch3 → Boss-Extrude2 (new body)
    with BuildSketch(Plane(origin=(46, 0, 0), x_dir=(0, 0, -1), z_dir=(1, 0, 0))):
        Circle(SKETCH3_R)
        Circle(SKETCH3_R_2, mode=Mode.SUBTRACT)
        with Locations((0, 18.5125)):
            Circle(SKETCH3_R_2, mode=Mode.SUBTRACT)
        with Locations((-18.5125, 0)):
            Circle(SKETCH3_R_2, mode=Mode.SUBTRACT)
        with Locations((0, -18.5125)):
            Circle(SKETCH3_R_2, mode=Mode.SUBTRACT)
        with Locations((18.5125, 0)):
            Circle(SKETCH3_R_2, mode=Mode.SUBTRACT)
    extrude(amount=BOSS_EXTRUDE2_DEPTH)


with BuildPart() as body_3:
    # Sketch17 → Boss-Extrude4 (new body)
    with BuildSketch(Plane(origin=(52, 0, 0), x_dir=(0, 0, -1), z_dir=(1, 0, 0))):
        Circle(SKETCH17_R)
        Circle(SKETCH17_R_2, mode=Mode.SUBTRACT)
    extrude(amount=BOSS_EXTRUDE4_DEPTH)


with BuildPart() as body_4:
    # Sketch19 → Boss-Extrude6 (new, symmetric)
    with BuildSketch(Plane(origin=(0, 0, 0), x_dir=(0, 0, -1), z_dir=(1, 0, 0))):
        Circle(SKETCH19_R)
    extrude(amount=BOSS_EXTRUDE6_DEPTH, both=True)


with BuildPart() as body_5:
    # Sketch20 → Boss-Extrude7 (new, symmetric)
    with BuildSketch(Plane(origin=(0, 0, 0), x_dir=(0, 0, -1), z_dir=(1, 0, 0))):
        with Locations((0, 18.5125)):
            Circle(SKETCH20_R)
    extrude(amount=BOSS_EXTRUDE7_DEPTH, both=True)


with BuildPart() as body_6:
    # Sketch20 → Boss-Extrude7 2 (new, symmetric)
    with BuildSketch(Plane(origin=(0, 0, 0), x_dir=(0, 0, -1), z_dir=(1, 0, 0))):
        with Locations((18.5125, 0)):
            Circle(SKETCH20_R)
    extrude(amount=BOSS_EXTRUDE7_2_DEPTH, both=True)


with BuildPart() as body_7:
    # Sketch20 → Boss-Extrude7 3 (new, symmetric)
    with BuildSketch(Plane(origin=(0, 0, 0), x_dir=(0, 0, -1), z_dir=(1, 0, 0))):
        with Locations((0, -18.5125)):
            Circle(SKETCH20_R)
    extrude(amount=BOSS_EXTRUDE7_3_DEPTH, both=True)


with BuildPart() as body_8:
    # Sketch20 → Boss-Extrude7 4 (new, symmetric)
    with BuildSketch(Plane(origin=(0, 0, 0), x_dir=(0, 0, -1), z_dir=(1, 0, 0))):
        with Locations((-18.5125, 0)):
            Circle(SKETCH20_R)
    extrude(amount=BOSS_EXTRUDE7_4_DEPTH, both=True)


solid = Compound([part.part, body_2.part, body_3.part, body_4.part, body_5.part, body_6.part, body_7.part, body_8.part])
